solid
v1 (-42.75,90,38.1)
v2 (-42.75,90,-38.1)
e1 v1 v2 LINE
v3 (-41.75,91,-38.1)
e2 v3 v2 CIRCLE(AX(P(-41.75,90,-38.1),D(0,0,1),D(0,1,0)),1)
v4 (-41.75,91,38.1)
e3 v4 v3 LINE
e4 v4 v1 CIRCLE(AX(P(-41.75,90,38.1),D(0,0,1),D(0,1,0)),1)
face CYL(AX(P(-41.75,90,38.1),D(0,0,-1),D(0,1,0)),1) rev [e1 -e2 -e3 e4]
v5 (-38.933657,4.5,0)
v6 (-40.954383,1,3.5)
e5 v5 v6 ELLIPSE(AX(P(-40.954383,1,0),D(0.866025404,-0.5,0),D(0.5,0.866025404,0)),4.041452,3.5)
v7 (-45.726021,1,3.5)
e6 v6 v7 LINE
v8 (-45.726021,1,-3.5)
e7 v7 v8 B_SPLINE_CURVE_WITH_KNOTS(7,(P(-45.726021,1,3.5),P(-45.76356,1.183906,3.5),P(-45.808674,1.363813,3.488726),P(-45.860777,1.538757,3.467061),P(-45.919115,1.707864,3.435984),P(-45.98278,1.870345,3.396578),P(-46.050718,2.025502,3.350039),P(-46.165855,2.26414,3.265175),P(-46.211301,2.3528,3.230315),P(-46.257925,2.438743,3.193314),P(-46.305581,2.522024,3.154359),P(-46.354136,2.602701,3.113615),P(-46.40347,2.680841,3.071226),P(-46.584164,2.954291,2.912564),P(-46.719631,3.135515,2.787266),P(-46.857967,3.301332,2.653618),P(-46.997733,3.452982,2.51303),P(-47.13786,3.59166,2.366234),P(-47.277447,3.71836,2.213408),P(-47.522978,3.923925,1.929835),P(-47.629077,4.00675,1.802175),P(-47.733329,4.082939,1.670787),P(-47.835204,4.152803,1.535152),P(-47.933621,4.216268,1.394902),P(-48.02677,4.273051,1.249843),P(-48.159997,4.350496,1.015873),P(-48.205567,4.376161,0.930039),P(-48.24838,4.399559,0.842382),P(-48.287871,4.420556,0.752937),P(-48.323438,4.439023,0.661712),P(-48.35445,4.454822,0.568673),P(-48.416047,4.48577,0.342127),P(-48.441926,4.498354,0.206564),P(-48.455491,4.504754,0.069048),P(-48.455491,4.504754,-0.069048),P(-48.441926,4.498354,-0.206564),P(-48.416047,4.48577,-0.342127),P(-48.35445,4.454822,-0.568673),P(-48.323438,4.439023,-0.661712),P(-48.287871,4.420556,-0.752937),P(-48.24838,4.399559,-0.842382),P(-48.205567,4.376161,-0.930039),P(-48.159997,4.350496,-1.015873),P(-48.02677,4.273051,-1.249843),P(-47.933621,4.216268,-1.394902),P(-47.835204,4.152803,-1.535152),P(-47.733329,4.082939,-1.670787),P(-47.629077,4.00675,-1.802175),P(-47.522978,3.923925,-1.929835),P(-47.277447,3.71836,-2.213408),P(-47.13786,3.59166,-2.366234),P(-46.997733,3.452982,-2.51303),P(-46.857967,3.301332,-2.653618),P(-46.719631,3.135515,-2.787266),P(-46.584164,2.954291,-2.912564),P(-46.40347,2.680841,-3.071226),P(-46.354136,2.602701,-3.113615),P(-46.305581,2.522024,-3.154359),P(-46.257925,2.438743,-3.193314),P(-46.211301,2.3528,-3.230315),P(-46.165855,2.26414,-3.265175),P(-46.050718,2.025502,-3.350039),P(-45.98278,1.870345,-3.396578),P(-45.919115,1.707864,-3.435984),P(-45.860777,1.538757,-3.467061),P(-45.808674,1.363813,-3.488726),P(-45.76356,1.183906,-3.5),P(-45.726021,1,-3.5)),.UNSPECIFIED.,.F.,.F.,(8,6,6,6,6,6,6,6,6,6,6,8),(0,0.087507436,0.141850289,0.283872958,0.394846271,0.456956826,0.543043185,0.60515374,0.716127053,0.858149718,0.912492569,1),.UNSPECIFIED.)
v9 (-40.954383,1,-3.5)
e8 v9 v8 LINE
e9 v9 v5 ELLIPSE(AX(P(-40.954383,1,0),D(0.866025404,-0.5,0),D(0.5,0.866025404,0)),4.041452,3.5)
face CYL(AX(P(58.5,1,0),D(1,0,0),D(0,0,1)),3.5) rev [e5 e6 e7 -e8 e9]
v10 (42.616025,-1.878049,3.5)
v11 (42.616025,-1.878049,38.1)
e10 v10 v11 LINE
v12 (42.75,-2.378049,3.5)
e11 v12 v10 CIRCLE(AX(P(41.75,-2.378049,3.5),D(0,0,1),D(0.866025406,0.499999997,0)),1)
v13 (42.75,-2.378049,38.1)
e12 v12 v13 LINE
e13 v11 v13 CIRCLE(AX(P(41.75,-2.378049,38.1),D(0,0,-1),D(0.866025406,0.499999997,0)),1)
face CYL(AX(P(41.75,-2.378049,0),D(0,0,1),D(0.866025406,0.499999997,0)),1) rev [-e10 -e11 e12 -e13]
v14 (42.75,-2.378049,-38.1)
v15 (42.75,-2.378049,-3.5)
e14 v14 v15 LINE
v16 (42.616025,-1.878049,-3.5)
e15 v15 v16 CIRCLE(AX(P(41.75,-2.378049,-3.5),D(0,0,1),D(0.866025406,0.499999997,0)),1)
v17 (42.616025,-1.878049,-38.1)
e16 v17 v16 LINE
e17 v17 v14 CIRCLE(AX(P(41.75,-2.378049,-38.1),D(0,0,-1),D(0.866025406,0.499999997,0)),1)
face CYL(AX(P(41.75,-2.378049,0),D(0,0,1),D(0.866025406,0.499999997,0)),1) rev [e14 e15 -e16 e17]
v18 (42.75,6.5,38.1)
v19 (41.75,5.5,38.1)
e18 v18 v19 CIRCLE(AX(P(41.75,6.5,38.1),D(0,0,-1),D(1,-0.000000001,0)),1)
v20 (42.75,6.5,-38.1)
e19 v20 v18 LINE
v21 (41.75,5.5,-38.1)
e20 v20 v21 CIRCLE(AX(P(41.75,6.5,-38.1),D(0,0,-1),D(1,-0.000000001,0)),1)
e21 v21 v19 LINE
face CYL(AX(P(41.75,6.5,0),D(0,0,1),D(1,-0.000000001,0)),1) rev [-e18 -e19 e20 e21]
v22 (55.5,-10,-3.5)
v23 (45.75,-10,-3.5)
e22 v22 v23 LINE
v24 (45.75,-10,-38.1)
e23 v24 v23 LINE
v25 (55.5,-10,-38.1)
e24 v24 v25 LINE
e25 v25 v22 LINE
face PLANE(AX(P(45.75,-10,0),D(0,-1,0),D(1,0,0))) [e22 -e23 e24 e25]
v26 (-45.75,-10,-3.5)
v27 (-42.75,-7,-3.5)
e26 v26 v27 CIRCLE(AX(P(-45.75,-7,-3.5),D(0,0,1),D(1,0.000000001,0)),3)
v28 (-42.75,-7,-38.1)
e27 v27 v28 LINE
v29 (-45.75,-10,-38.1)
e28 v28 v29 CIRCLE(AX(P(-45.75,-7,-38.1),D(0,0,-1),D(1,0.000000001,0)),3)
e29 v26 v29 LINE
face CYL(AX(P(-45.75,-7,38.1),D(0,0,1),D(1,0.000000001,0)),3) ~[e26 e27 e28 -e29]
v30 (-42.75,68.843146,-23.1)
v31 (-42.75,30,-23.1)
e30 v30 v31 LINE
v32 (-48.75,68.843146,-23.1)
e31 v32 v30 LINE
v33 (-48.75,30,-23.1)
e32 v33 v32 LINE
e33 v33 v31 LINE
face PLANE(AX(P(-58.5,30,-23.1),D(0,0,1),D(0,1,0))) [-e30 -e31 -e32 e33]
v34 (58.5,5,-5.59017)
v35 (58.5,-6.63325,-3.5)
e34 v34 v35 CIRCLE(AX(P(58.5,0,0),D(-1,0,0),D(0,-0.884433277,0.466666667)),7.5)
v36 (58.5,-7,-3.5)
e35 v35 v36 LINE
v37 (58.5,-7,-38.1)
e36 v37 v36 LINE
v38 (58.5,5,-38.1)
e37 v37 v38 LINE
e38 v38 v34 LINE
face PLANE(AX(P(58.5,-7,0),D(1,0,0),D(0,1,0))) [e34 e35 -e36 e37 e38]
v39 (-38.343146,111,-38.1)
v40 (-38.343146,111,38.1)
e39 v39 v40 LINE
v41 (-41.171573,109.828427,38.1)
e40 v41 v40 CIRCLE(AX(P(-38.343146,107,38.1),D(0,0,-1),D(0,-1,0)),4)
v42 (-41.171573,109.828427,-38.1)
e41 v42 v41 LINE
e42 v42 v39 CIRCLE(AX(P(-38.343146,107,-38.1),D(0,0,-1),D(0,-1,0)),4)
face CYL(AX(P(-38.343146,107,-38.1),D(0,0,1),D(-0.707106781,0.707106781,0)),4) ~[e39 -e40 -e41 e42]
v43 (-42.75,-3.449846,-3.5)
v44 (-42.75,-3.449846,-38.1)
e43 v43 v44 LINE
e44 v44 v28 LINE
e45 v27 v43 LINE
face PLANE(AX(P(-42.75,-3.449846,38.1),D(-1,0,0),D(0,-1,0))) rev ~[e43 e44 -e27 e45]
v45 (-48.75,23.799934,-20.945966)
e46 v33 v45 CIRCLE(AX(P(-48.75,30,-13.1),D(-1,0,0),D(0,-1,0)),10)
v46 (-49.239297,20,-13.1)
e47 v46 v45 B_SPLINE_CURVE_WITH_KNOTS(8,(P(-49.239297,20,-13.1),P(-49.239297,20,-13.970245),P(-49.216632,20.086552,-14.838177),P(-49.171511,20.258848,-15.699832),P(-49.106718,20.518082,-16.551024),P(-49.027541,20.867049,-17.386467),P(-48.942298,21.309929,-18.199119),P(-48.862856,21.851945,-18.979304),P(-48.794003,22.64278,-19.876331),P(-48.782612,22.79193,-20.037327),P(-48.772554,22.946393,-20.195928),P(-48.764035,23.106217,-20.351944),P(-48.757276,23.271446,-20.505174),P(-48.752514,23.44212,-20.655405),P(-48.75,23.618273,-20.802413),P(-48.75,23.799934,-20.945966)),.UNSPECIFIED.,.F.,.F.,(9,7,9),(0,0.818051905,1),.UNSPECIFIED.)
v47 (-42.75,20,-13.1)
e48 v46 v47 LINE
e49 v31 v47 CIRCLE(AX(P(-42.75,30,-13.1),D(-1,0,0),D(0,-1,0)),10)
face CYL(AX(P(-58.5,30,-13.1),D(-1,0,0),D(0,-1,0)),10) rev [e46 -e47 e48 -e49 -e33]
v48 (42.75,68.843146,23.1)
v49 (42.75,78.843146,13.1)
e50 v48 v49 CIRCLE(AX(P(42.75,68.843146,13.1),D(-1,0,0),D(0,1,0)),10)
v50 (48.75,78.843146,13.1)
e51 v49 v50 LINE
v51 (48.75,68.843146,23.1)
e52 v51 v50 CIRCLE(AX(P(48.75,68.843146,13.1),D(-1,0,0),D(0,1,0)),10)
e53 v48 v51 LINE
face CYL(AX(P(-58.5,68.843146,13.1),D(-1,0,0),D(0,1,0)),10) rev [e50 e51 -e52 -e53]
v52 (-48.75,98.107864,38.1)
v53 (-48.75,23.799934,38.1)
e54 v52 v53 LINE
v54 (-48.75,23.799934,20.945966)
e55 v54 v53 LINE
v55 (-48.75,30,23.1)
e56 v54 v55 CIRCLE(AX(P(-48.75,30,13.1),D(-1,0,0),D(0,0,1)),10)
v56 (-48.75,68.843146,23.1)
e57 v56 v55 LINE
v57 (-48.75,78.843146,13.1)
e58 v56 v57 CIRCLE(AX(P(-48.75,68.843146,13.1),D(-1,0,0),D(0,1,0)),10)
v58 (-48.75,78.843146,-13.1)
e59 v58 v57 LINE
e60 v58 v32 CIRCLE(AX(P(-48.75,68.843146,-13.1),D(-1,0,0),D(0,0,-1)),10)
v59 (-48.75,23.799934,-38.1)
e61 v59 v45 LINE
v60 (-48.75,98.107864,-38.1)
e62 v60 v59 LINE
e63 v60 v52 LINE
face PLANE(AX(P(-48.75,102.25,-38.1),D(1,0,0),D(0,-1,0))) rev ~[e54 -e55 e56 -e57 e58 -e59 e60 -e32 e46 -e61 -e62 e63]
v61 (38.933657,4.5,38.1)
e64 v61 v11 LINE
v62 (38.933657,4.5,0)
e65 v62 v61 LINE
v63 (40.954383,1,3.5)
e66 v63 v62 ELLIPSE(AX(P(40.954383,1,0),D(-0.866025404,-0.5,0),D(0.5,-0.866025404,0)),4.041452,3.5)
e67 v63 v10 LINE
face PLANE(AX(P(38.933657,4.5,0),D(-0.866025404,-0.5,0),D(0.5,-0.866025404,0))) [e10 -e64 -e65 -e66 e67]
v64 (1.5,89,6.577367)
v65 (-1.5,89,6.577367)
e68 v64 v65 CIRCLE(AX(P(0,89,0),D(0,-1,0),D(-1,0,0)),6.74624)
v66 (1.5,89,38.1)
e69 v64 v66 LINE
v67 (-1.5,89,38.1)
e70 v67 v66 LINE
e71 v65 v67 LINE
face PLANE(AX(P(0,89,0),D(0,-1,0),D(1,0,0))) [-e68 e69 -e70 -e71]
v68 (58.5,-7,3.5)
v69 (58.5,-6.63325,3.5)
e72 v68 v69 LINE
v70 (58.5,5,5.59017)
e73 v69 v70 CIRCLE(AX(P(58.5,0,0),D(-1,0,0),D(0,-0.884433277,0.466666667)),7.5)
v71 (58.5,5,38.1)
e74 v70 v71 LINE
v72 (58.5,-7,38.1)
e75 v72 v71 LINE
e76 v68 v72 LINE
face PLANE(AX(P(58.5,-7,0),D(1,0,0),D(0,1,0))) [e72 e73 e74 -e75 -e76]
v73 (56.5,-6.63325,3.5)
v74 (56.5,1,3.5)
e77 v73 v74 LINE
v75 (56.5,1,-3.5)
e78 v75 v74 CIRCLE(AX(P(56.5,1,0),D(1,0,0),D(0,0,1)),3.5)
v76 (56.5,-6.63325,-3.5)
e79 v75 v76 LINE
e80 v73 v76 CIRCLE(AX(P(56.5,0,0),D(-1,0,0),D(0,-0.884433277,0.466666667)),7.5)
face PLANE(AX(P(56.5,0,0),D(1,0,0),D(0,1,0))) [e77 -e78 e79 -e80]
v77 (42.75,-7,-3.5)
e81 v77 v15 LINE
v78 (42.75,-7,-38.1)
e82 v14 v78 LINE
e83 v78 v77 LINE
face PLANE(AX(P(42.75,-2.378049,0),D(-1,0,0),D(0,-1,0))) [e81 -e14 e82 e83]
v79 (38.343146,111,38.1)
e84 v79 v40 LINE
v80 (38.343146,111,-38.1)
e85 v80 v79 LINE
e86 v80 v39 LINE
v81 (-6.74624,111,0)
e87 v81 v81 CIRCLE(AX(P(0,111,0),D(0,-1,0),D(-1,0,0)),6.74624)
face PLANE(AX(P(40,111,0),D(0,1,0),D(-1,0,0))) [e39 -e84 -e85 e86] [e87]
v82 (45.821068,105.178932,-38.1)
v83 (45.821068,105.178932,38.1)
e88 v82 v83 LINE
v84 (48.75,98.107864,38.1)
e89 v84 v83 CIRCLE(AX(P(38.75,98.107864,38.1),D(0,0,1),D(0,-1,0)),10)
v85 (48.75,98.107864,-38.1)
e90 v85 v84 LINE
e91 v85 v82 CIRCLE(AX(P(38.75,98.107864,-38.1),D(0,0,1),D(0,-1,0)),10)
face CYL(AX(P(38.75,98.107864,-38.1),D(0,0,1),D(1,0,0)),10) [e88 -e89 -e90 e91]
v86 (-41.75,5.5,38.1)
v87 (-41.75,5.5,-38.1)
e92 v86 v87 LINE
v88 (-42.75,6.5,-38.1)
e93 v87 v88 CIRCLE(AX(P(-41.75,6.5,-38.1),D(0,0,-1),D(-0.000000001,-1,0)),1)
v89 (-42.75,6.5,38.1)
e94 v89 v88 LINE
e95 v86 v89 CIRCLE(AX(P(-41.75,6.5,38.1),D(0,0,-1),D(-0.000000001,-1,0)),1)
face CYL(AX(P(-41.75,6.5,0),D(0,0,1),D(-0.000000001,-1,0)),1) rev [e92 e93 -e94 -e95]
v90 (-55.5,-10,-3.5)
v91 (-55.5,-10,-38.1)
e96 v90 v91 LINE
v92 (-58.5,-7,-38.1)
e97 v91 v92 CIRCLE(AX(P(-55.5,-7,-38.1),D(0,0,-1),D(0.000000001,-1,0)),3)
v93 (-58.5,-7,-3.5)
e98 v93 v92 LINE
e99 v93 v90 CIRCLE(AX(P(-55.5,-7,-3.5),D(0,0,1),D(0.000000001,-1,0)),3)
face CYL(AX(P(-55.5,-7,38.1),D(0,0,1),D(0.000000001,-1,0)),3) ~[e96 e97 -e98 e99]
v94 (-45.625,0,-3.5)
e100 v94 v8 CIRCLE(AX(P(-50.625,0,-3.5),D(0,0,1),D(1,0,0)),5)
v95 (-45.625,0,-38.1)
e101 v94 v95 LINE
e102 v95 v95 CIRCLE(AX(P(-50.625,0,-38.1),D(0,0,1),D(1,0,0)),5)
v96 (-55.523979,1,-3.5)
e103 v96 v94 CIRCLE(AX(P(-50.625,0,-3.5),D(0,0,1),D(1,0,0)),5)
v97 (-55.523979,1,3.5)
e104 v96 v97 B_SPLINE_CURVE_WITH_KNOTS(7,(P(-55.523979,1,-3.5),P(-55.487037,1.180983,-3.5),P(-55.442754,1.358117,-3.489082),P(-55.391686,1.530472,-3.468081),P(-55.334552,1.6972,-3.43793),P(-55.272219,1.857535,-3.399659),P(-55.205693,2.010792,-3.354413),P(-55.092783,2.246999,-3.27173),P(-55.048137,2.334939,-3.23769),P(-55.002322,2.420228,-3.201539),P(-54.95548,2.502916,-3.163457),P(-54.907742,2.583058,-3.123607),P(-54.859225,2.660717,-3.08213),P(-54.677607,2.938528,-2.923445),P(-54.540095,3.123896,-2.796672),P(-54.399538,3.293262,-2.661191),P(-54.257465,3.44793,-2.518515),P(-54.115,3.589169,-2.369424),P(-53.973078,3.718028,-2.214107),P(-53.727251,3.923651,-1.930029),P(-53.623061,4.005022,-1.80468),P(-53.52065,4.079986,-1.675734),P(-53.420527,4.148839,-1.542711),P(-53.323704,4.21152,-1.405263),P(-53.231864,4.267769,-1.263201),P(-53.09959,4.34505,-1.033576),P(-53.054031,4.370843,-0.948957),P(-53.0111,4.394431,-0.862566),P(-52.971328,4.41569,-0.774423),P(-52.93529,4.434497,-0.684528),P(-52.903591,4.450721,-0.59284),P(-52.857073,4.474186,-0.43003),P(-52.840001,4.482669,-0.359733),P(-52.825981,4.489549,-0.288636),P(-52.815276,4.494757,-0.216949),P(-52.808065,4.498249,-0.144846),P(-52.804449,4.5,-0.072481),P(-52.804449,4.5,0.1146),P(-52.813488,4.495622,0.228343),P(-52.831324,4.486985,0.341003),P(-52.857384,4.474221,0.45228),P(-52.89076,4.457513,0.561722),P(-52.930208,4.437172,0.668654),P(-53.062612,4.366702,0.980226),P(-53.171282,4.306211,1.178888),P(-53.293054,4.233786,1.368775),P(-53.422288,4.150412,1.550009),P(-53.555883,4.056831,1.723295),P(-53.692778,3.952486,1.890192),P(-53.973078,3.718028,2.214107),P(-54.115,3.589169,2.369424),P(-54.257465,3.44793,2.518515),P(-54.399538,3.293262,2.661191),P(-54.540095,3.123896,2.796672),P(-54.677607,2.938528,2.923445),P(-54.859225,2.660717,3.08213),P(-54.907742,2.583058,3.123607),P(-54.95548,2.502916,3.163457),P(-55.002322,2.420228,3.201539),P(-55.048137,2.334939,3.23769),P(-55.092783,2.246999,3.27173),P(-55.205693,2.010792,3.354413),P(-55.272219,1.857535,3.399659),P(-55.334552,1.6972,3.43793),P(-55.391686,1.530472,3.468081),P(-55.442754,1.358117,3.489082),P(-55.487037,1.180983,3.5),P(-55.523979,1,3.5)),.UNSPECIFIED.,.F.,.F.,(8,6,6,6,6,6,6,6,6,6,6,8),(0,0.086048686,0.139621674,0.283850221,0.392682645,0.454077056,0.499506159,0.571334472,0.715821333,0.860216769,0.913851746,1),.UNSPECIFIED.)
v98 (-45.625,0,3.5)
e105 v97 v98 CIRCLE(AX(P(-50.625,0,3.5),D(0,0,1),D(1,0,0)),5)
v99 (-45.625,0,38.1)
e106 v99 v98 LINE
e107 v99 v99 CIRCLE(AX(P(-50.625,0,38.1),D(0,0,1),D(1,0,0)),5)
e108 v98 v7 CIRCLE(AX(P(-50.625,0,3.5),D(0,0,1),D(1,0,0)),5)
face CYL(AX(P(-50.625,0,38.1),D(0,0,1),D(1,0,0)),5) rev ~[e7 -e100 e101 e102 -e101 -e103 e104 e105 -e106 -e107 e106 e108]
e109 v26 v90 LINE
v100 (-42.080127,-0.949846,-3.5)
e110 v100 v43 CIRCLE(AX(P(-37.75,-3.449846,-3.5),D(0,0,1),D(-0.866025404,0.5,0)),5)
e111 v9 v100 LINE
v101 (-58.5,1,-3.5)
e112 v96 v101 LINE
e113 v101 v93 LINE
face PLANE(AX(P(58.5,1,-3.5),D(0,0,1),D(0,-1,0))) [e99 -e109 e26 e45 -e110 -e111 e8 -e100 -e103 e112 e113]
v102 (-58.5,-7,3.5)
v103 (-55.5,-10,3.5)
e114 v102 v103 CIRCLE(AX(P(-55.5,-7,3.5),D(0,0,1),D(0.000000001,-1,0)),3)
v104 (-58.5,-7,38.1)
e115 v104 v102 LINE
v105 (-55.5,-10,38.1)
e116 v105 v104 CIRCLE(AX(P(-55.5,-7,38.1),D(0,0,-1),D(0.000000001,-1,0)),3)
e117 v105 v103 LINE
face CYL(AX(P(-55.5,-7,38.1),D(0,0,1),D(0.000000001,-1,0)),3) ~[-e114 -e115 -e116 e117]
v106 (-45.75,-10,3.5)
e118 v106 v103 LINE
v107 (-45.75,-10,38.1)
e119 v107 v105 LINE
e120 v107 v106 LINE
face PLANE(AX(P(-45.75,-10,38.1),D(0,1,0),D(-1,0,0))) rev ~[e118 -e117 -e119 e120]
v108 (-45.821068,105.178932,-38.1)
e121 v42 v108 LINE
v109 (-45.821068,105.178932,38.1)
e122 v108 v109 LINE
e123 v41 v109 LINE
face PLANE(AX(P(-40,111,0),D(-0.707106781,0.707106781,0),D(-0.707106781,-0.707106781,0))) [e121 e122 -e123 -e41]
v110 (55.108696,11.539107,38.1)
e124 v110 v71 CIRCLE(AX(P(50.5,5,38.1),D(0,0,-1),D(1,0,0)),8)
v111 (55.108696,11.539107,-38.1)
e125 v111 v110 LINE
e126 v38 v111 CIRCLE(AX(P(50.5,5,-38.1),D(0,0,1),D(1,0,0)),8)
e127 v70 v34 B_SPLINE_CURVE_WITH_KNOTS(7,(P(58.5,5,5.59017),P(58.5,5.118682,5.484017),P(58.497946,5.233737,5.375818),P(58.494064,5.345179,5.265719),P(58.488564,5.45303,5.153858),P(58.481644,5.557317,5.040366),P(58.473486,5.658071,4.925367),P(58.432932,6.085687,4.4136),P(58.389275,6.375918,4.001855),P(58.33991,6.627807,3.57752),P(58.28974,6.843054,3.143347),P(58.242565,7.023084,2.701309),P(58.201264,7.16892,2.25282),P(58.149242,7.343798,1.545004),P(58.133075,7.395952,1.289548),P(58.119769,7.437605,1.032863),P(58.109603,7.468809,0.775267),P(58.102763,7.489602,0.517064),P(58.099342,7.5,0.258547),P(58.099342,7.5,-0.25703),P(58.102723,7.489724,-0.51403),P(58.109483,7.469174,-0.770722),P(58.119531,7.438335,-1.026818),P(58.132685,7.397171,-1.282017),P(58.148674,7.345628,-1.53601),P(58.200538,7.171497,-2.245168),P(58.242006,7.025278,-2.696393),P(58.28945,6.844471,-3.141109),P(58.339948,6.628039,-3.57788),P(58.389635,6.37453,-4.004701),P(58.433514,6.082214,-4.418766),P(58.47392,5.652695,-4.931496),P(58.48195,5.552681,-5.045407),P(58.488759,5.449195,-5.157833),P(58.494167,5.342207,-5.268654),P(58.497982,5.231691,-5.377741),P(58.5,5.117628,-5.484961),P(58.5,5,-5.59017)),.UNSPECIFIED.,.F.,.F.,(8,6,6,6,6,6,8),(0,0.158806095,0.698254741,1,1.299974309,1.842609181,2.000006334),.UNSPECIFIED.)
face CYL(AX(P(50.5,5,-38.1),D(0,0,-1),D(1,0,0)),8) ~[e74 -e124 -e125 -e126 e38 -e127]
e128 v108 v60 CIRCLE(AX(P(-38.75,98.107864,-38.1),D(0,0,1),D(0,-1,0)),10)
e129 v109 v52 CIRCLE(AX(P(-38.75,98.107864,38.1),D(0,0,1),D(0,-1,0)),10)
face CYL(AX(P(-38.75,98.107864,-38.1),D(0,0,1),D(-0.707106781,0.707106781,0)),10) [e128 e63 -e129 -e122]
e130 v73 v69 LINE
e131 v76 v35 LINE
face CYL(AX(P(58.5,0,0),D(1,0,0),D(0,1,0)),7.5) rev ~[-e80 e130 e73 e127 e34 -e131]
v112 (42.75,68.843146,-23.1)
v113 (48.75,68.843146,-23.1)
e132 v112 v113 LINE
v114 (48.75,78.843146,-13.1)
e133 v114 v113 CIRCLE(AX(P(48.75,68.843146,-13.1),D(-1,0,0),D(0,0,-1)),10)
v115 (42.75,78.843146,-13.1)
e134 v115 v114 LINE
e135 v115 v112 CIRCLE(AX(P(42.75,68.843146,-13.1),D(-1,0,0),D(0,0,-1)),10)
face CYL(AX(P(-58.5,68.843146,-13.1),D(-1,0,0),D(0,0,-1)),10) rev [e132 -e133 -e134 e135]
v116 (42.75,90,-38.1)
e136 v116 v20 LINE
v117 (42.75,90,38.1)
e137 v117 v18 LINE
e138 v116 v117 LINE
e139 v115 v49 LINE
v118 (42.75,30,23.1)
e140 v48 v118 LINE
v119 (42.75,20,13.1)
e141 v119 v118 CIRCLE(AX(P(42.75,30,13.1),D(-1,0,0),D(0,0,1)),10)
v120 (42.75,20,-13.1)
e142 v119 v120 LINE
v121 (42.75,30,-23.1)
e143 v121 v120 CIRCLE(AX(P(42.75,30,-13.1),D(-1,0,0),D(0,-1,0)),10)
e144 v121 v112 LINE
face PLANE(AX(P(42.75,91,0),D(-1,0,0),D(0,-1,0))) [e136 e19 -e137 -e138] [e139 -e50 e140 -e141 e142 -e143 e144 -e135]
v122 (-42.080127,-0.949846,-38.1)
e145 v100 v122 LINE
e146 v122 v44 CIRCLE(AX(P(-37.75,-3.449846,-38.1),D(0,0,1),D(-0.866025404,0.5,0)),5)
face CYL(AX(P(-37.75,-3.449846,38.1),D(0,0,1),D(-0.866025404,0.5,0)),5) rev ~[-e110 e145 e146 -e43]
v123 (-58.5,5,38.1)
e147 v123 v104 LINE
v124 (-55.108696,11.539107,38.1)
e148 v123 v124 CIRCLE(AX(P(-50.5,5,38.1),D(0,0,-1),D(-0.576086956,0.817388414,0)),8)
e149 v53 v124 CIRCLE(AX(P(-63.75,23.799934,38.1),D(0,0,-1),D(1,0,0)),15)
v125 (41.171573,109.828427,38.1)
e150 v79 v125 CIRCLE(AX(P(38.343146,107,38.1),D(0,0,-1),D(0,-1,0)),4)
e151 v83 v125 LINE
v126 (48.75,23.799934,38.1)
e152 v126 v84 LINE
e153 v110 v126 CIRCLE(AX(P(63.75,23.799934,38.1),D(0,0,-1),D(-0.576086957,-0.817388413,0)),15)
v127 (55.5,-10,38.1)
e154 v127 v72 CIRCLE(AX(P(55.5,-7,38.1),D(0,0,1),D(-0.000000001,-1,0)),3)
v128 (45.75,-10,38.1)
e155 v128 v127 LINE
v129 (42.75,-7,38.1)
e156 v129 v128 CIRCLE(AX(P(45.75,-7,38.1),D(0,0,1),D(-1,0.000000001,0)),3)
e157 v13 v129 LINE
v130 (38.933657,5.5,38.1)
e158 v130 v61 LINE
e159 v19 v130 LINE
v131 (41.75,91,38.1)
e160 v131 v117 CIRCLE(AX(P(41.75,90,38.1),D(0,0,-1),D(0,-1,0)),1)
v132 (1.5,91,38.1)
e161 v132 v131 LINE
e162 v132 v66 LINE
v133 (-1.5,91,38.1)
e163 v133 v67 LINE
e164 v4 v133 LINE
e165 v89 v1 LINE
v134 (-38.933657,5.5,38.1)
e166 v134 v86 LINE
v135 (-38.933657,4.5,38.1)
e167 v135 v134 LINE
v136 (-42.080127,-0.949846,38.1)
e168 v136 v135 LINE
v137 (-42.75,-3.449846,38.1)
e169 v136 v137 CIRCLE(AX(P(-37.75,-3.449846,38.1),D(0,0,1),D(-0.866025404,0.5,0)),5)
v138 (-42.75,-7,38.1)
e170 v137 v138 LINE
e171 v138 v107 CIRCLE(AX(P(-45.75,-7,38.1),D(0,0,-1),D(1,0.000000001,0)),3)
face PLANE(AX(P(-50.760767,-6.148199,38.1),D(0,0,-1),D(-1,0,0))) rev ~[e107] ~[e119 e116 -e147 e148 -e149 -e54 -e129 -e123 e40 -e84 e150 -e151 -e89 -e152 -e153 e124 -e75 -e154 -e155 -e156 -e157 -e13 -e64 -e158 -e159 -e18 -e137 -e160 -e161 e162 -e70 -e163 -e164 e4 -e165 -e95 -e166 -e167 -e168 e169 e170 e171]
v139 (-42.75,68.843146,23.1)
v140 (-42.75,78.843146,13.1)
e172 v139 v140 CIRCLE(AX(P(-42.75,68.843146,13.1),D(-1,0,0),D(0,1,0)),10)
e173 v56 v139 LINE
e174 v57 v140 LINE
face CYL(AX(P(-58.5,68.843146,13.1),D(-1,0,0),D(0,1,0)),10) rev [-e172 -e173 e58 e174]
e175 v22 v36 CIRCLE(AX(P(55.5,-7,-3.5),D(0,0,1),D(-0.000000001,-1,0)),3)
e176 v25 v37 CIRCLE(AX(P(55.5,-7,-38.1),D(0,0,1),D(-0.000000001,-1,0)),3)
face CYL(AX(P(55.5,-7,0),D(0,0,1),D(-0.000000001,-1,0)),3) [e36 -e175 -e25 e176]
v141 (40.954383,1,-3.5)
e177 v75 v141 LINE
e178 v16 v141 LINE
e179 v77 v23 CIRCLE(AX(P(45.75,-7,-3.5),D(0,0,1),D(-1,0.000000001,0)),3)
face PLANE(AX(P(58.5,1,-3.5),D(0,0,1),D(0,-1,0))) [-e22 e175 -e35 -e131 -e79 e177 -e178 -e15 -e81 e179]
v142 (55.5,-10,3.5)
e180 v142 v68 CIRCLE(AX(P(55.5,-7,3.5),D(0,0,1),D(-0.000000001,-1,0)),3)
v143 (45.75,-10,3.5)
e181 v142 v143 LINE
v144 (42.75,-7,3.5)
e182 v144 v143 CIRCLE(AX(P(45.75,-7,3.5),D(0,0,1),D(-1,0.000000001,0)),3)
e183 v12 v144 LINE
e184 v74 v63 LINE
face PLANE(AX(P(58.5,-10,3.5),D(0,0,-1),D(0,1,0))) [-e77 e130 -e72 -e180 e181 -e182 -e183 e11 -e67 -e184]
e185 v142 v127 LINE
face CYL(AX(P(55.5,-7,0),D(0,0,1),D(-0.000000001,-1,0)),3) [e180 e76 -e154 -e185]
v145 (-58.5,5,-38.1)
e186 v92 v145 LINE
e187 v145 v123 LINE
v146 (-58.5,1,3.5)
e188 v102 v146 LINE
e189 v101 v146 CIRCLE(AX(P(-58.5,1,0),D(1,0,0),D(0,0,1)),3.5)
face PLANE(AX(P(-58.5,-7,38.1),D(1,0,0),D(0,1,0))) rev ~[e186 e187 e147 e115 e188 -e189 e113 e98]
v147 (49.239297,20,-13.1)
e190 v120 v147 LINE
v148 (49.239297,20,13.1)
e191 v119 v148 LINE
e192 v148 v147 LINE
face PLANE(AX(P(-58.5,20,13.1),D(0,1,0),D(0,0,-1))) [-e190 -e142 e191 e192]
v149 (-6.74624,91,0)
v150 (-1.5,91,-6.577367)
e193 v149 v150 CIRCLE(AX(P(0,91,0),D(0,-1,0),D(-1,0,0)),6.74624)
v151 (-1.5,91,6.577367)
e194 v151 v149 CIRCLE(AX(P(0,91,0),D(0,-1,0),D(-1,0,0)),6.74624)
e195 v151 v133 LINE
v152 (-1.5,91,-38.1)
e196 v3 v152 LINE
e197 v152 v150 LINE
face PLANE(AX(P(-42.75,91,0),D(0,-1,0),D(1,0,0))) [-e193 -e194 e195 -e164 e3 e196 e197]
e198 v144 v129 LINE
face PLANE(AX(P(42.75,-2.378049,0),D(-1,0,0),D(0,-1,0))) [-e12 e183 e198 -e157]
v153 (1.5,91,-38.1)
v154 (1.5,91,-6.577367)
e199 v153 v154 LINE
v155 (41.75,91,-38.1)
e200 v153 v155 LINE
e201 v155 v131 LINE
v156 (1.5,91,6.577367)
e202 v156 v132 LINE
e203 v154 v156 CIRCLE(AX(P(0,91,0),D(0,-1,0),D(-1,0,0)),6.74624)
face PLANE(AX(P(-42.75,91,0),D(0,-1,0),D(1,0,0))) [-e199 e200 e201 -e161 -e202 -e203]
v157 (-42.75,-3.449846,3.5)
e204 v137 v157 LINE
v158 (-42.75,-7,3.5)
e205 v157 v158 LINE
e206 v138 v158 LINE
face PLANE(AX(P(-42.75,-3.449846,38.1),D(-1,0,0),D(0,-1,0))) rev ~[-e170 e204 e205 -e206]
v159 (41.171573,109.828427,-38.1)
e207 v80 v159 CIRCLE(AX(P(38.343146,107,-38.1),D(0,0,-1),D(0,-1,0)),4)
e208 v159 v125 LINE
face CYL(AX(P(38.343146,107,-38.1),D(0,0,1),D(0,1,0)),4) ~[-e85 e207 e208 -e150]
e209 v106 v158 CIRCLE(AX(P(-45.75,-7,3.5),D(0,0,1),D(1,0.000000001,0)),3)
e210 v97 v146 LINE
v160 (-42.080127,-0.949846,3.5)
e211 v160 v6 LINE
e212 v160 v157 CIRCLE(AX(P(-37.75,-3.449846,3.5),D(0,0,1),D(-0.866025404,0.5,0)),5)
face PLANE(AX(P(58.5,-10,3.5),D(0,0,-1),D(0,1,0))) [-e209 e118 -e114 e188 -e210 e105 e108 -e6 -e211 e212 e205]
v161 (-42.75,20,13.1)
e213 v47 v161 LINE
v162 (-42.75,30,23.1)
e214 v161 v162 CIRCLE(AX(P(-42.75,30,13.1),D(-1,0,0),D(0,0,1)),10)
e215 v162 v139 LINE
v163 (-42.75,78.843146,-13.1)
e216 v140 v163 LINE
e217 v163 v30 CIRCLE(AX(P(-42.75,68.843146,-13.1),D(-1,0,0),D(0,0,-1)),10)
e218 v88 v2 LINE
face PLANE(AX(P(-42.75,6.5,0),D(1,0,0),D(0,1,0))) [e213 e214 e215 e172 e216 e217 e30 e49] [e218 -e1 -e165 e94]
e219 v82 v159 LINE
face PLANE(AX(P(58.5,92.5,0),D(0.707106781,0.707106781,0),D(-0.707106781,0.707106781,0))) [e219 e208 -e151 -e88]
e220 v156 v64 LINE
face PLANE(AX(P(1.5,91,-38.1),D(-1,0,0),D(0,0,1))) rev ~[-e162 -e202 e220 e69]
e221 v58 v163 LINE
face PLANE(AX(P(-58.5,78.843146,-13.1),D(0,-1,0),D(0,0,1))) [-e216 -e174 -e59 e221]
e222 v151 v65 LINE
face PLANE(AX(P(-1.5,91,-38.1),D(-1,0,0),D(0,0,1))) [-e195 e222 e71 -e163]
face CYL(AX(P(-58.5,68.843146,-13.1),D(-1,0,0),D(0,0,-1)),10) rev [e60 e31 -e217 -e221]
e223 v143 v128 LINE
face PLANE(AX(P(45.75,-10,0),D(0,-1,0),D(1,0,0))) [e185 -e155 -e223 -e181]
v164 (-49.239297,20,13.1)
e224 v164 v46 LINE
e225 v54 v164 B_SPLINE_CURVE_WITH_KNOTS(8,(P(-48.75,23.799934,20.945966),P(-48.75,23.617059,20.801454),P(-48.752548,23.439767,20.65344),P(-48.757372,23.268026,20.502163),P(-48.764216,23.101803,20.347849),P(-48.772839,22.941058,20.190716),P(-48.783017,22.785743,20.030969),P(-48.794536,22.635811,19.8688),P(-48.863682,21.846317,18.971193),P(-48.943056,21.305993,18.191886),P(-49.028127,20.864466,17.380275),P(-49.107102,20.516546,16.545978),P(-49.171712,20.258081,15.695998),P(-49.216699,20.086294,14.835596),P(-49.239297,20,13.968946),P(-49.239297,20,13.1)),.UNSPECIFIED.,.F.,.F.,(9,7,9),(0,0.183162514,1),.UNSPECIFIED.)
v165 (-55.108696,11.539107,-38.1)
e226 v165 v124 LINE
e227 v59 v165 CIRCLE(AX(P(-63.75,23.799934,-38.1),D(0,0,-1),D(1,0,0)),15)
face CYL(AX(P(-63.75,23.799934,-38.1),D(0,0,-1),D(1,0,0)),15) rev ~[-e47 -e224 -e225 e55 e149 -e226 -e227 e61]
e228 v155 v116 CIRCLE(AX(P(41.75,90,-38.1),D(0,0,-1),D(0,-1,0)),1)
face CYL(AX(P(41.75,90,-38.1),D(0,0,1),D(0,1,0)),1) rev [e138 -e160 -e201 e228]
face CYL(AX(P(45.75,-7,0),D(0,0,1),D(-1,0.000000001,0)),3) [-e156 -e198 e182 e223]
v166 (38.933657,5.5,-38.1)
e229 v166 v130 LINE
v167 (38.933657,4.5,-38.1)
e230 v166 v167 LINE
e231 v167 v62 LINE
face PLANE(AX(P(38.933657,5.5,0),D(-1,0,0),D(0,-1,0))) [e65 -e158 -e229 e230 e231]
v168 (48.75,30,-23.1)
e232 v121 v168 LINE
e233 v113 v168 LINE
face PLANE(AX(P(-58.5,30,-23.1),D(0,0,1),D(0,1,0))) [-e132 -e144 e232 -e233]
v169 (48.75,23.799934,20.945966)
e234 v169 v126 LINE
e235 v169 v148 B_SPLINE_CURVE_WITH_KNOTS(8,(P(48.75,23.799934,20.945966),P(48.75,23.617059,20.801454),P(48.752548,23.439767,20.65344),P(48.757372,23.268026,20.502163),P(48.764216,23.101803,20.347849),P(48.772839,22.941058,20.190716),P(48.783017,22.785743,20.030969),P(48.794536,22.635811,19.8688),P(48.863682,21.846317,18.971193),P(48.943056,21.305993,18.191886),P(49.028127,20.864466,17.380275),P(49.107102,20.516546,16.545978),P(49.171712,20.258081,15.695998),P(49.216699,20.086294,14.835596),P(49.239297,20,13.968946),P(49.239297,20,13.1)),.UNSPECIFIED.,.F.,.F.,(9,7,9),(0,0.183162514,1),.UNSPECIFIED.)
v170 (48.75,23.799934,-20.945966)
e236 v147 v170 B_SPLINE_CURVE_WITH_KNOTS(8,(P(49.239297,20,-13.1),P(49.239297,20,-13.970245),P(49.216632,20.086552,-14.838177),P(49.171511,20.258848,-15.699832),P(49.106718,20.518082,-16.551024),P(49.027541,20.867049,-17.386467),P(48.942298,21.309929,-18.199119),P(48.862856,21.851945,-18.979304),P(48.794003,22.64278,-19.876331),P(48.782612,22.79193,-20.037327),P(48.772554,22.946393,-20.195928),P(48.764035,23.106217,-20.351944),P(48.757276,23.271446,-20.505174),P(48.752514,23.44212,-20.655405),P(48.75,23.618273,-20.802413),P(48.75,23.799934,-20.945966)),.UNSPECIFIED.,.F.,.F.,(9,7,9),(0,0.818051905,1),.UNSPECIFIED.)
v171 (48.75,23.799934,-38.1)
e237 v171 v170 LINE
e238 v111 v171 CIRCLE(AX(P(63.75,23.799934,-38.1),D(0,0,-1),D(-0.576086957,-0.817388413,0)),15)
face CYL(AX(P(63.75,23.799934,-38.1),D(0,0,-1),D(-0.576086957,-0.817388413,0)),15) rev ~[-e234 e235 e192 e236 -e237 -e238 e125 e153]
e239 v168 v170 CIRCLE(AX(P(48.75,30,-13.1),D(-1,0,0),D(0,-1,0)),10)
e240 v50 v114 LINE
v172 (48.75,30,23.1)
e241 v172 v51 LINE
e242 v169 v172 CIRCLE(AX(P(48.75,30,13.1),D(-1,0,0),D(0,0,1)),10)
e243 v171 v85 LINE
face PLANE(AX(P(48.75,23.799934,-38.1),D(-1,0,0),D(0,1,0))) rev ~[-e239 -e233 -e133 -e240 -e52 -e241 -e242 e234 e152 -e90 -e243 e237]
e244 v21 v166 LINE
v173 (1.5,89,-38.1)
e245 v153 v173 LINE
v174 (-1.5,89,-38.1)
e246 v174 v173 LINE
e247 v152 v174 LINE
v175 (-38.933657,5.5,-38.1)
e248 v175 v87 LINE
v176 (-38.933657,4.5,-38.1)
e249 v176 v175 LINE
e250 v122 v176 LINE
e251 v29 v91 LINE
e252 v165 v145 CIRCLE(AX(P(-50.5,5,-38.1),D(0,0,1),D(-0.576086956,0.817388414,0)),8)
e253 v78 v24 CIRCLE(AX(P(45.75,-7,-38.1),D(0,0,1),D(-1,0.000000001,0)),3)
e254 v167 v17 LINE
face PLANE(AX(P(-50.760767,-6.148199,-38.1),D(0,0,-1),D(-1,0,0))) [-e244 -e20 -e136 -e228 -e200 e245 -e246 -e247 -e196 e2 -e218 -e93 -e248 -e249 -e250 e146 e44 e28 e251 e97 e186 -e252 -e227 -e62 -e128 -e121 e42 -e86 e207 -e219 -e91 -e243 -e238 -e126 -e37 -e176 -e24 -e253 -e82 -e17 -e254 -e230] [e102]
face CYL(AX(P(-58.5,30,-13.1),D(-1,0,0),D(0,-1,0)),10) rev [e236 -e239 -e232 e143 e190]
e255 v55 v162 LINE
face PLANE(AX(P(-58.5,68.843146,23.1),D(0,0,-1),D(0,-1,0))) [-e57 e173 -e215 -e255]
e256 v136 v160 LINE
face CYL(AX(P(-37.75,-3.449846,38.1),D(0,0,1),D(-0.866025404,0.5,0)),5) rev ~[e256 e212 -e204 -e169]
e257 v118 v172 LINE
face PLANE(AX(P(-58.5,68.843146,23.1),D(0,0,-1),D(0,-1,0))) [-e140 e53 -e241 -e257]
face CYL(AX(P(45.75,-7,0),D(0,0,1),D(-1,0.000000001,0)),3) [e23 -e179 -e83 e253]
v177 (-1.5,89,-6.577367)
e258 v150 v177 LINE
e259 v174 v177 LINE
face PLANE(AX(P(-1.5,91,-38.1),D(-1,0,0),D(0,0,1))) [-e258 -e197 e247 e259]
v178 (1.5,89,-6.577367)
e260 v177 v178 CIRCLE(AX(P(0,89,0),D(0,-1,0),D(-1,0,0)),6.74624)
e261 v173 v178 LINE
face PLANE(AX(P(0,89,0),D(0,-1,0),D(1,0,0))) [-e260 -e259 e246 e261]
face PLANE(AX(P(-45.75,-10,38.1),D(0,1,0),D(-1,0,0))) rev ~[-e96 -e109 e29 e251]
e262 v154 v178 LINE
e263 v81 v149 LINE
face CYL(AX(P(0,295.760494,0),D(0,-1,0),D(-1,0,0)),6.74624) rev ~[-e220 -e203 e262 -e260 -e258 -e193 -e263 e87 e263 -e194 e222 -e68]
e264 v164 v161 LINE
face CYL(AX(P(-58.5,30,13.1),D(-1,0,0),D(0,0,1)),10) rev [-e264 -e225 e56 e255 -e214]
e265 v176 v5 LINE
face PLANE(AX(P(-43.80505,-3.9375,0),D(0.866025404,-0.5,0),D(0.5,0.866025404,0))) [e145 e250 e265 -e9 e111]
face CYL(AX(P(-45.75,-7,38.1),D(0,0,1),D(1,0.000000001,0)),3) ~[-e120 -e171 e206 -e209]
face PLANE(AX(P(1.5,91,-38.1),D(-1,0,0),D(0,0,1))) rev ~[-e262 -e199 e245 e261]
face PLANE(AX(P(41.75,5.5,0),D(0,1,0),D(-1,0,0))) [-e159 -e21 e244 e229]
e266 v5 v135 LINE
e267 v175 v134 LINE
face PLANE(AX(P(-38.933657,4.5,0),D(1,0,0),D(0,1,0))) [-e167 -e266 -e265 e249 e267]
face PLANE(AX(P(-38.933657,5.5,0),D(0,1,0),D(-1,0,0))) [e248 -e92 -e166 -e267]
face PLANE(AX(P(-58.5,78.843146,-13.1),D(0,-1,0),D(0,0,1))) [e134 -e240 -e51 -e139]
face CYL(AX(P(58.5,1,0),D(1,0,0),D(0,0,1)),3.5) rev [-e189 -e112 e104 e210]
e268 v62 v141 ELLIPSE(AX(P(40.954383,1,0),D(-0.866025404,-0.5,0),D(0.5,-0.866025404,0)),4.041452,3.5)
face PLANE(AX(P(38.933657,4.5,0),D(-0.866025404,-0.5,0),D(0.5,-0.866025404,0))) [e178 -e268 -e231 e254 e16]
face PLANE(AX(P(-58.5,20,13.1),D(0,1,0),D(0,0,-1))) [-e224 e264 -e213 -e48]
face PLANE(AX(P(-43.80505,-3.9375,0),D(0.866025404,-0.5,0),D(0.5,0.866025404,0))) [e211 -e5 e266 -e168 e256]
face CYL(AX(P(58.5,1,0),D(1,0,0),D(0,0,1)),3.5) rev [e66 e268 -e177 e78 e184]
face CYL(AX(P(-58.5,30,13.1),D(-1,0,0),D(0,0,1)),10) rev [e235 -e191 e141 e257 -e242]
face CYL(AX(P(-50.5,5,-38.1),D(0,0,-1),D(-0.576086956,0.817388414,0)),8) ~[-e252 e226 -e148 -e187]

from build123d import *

# Parameters (mm, degrees)
BOSS_EXTRUDE1_DEPTH     = 38.1
SKETCH4_R               = 5
CUT_EXTRUDE2_DEPTH      = 147.798126691
FILLET1_R               = 1
FILLET2_R               = 4
BOSS_EXTRUDE5_START     = -76.2
BOSS_EXTRUDE5_DEPTH     = 76.2
SKETCH9_R               = 7.5
CUT_EXTRUDE3_DEPTH      = 2
SKETCH10_W              = 3
SKETCH10_H              = 76.2
BOSS_EXTRUDE4_DEPTH     = 2
CUT_EXTRUDE1_DEPTH      = 166.715448911
CUT_EXTRUDE8_DEPTH      = 166.715448911
CUT_EXTRUDE10_DEPTH     = 147.798126783
F_5_8_11_TAPPED_HOLE1_D = 13.49248
FILLET3_R               = 10


with BuildPart() as part:
    # Sketch1 → Boss-Extrude1 (new, symmetric)
    with BuildSketch(Plane.XY):
        with BuildLine():
            Line((-42.75, 91), (42.75, 91))
            Line((42.75, 91), (42.75, 6.5))
            ThreePointArc((42.75, 6.5), (42.457106781, 5.792893219), (41.75, 5.5))
            Line((41.75, 5.5), (38.933657049, 5.5))
            Line((38.933657049, 5.5), (38.933657049, 4.5))
            Line((38.933657049, 4.5), (42.616025404, -1.878049083))
            ThreePointArc((42.616025404, -1.878049083), (42.715925826, -2.119230038), (42.75, -2.378049083))
            Line((42.75, -2.378049083), (42.75, -7))
            ThreePointArc((42.75, -7), (43.628679656, -9.121320344), (45.75, -10))
            Line((45.75, -10), (55.5, -10))
            ThreePointArc((55.5, -10), (57.621320344, -9.121320344), (58.5, -7))
            Line((58.5, -7), (58.5, 92.5))
            Line((58.5, 92.5), (40, 111))
            Line((40, 111), (-40, 111))
            Line((-40, 111), (-58.5, 92.5))
            Line((-58.5, 92.5), (-58.5, 0))
            ThreePointArc((-58.5, 0), (-52.66319998, -7.606665882), (-43.805049945, -3.9375))
            Line((-43.805049945, -3.9375), (-38.933657049, 4.5))
            Line((-38.933657049, 4.5), (-38.933657049, 5.5))
            Line((-38.933657049, 5.5), (-41.75, 5.5))
            ThreePointArc((-41.75, 5.5), (-42.457106781, 5.792893219), (-42.75, 6.5))
            Line((-42.75, 6.5), (-42.75, 91))
        make_face()
    extrude(amount=BOSS_EXTRUDE1_DEPTH, both=True)

    # Sketch4 → Cut-Extrude2 (cut, through all)
    with BuildSketch(Plane.XY.offset(38.1)):
        with Locations((-50.625, 0)):
            Circle(SKETCH4_R)
    extrude(amount=-CUT_EXTRUDE2_DEPTH, mode=Mode.SUBTRACT)

    # Fillet1
    fillet1_edges = [part.edges().sort_by_distance(p)[0] for p in [
        (42.75, 91, 0),
        (-42.75, 91, 0),
    ]]
    fillet(fillet1_edges, radius=FILLET1_R)

    # Fillet2
    fillet2_edges = [part.edges().sort_by_distance(p)[0] for p in [
        (-58.5, 92.5, 0),
        (-40, 111, 0),
        (40, 111, 0),
        (58.5, 92.5, 0),
    ]]
    fillet(fillet2_edges, radius=FILLET2_R)

    # Sketch14 → Boss-Extrude5 (add)
    with BuildSketch(Plane(origin=(0, 0, -38.1), x_dir=(-1, 0, 0), z_dir=(0, 0, -1)).offset(BOSS_EXTRUDE5_START)):
        with BuildLine():
            Line((45.75, -10), (55.5, -10))
            ThreePointArc((55.5, -10), (57.621320344, -9.121320344), (58.5, -7))
            Line((58.5, -7), (58.5, 0))
            ThreePointArc((58.5, 0), (52.66319998, -7.606665882), (43.805049945, -3.9375))
            Line((43.805049945, -3.9375), (42.080127019, -0.949845853))
            ThreePointArc((42.080127019, -0.949845853), (42.579629131, -2.155750627), (42.75, -3.449845853))
            Line((42.75, -3.449845853), (42.75, -7))
            ThreePointArc((42.75, -7), (43.628679656, -9.121320344), (45.75, -10))
        make_face()
    extrude(amount=BOSS_EXTRUDE5_DEPTH)

    # Sketch9 → Cut-Extrude3 (cut)
    with BuildSketch(Plane(origin=(58.5, 0, 0), x_dir=(0, 0, -1), z_dir=(1, 0, 0))):
        with Locations(Location((0, 0, 0), (0, 0, 90))):
            Circle(SKETCH9_R)
    extrude(amount=-CUT_EXTRUDE3_DEPTH, mode=Mode.SUBTRACT)

    # Sketch10 → Boss-Extrude4 (add)
    with BuildSketch(Plane.XZ.offset(-91)):
        Rectangle(SKETCH10_W, SKETCH10_H)
    extrude(amount=BOSS_EXTRUDE4_DEPTH)

    # Sketch3 → Cut-Extrude1 (cut, through all)
    with BuildSketch(Plane(origin=(58.5, 0, 0), x_dir=(0, 0, -1), z_dir=(1, 0, 0))):
        with BuildLine():
            Line((3.5, 1), (3.5, -10))
            ThreePointArc((3.5, -10), (0, -13.5), (-3.5, -10))
            Line((-3.5, -10), (-3.5, 1))
            ThreePointArc((-3.5, 1), (0, 4.5), (3.5, 1))
        make_face()
    extrude(amount=-CUT_EXTRUDE1_DEPTH, mode=Mode.SUBTRACT)

    # Sketch18 → Cut-Extrude8 (cut, through all)
    with BuildSketch(Plane.ZY.offset(58.5)):
        with BuildLine():
            Line((-13.1, 78.843145751), (13.1, 78.843145751))
            ThreePointArc((13.1, 78.843145751), (20.171067812, 75.914213562), (23.1, 68.843145751))
            Line((23.1, 68.843145751), (23.1, 30))
            ThreePointArc((23.1, 30), (20.171067812, 22.928932188), (13.1, 20))
            Line((13.1, 20), (-13.1, 20))
            ThreePointArc((-13.1, 20), (-20.171067812, 22.928932188), (-23.1, 30))
            Line((-23.1, 30), (-23.1, 68.843145751))
            ThreePointArc((-23.1, 68.843145751), (-20.171067812, 75.914213562), (-13.1, 78.843145751))
        make_face()
    extrude(amount=-CUT_EXTRUDE8_DEPTH, mode=Mode.SUBTRACT)

    # Sketch22 → Cut-Extrude10 (cut, through all)
    with BuildSketch(Plane(origin=(0, 0, -38.1), x_dir=(-1, 0, 0), z_dir=(0, 0, -1))):
        with BuildLine():
            Line((48.75, 102.25), (48.75, 23.799933511))
            ThreePointArc((48.75, 23.799933511), (50.434228051, 16.894123103), (55.108695652, 11.539107308))
            ThreePointArc((55.108695652, 11.539107308), (57.60174504, 8.683098884), (58.5, 5))
            Line((58.5, 5), (58.5, 90.843145751))
            ThreePointArc((58.5, 90.843145751), (58.19551813, 92.37387948), (57.328427125, 93.671572875))
            Line((57.328427125, 93.671572875), (48.75, 102.25))
        make_face()
        with BuildLine():
            Line((-48.75, 23.799933511), (-48.75, 102.25))
            Line((-48.75, 102.25), (-57.328427125, 93.671572875))
            ThreePointArc((-57.328427125, 93.671572875), (-58.19551813, 92.37387948), (-58.5, 90.843145751))
            Line((-58.5, 90.843145751), (-58.5, 5))
            ThreePointArc((-58.5, 5), (-57.60174504, 8.683098884), (-55.108695652, 11.539107308))
            ThreePointArc((-55.108695652, 11.539107308), (-50.434228051, 16.894123103), (-48.75, 23.799933511))
        make_face()
    extrude(amount=-CUT_EXTRUDE10_DEPTH, mode=Mode.SUBTRACT)

    # 5/8-11 Tapped Hole1 (through all)
    with Locations(Plane(origin=(0, 111, 0), x_dir=(1, 0, 0), z_dir=(0, 1, 0))):
        with Locations((0, 0)):
            Hole(F_5_8_11_TAPPED_HOLE1_D / 2)

    # Fillet3
    fillet3_edges = [part.edges().sort_by_distance(p)[0] for p in [
        (-48.75, 102.25, 0),
        (48.75, 102.25, 0),
    ]]
    fillet(fillet3_edges, radius=FILLET3_R)


solid = part.part
